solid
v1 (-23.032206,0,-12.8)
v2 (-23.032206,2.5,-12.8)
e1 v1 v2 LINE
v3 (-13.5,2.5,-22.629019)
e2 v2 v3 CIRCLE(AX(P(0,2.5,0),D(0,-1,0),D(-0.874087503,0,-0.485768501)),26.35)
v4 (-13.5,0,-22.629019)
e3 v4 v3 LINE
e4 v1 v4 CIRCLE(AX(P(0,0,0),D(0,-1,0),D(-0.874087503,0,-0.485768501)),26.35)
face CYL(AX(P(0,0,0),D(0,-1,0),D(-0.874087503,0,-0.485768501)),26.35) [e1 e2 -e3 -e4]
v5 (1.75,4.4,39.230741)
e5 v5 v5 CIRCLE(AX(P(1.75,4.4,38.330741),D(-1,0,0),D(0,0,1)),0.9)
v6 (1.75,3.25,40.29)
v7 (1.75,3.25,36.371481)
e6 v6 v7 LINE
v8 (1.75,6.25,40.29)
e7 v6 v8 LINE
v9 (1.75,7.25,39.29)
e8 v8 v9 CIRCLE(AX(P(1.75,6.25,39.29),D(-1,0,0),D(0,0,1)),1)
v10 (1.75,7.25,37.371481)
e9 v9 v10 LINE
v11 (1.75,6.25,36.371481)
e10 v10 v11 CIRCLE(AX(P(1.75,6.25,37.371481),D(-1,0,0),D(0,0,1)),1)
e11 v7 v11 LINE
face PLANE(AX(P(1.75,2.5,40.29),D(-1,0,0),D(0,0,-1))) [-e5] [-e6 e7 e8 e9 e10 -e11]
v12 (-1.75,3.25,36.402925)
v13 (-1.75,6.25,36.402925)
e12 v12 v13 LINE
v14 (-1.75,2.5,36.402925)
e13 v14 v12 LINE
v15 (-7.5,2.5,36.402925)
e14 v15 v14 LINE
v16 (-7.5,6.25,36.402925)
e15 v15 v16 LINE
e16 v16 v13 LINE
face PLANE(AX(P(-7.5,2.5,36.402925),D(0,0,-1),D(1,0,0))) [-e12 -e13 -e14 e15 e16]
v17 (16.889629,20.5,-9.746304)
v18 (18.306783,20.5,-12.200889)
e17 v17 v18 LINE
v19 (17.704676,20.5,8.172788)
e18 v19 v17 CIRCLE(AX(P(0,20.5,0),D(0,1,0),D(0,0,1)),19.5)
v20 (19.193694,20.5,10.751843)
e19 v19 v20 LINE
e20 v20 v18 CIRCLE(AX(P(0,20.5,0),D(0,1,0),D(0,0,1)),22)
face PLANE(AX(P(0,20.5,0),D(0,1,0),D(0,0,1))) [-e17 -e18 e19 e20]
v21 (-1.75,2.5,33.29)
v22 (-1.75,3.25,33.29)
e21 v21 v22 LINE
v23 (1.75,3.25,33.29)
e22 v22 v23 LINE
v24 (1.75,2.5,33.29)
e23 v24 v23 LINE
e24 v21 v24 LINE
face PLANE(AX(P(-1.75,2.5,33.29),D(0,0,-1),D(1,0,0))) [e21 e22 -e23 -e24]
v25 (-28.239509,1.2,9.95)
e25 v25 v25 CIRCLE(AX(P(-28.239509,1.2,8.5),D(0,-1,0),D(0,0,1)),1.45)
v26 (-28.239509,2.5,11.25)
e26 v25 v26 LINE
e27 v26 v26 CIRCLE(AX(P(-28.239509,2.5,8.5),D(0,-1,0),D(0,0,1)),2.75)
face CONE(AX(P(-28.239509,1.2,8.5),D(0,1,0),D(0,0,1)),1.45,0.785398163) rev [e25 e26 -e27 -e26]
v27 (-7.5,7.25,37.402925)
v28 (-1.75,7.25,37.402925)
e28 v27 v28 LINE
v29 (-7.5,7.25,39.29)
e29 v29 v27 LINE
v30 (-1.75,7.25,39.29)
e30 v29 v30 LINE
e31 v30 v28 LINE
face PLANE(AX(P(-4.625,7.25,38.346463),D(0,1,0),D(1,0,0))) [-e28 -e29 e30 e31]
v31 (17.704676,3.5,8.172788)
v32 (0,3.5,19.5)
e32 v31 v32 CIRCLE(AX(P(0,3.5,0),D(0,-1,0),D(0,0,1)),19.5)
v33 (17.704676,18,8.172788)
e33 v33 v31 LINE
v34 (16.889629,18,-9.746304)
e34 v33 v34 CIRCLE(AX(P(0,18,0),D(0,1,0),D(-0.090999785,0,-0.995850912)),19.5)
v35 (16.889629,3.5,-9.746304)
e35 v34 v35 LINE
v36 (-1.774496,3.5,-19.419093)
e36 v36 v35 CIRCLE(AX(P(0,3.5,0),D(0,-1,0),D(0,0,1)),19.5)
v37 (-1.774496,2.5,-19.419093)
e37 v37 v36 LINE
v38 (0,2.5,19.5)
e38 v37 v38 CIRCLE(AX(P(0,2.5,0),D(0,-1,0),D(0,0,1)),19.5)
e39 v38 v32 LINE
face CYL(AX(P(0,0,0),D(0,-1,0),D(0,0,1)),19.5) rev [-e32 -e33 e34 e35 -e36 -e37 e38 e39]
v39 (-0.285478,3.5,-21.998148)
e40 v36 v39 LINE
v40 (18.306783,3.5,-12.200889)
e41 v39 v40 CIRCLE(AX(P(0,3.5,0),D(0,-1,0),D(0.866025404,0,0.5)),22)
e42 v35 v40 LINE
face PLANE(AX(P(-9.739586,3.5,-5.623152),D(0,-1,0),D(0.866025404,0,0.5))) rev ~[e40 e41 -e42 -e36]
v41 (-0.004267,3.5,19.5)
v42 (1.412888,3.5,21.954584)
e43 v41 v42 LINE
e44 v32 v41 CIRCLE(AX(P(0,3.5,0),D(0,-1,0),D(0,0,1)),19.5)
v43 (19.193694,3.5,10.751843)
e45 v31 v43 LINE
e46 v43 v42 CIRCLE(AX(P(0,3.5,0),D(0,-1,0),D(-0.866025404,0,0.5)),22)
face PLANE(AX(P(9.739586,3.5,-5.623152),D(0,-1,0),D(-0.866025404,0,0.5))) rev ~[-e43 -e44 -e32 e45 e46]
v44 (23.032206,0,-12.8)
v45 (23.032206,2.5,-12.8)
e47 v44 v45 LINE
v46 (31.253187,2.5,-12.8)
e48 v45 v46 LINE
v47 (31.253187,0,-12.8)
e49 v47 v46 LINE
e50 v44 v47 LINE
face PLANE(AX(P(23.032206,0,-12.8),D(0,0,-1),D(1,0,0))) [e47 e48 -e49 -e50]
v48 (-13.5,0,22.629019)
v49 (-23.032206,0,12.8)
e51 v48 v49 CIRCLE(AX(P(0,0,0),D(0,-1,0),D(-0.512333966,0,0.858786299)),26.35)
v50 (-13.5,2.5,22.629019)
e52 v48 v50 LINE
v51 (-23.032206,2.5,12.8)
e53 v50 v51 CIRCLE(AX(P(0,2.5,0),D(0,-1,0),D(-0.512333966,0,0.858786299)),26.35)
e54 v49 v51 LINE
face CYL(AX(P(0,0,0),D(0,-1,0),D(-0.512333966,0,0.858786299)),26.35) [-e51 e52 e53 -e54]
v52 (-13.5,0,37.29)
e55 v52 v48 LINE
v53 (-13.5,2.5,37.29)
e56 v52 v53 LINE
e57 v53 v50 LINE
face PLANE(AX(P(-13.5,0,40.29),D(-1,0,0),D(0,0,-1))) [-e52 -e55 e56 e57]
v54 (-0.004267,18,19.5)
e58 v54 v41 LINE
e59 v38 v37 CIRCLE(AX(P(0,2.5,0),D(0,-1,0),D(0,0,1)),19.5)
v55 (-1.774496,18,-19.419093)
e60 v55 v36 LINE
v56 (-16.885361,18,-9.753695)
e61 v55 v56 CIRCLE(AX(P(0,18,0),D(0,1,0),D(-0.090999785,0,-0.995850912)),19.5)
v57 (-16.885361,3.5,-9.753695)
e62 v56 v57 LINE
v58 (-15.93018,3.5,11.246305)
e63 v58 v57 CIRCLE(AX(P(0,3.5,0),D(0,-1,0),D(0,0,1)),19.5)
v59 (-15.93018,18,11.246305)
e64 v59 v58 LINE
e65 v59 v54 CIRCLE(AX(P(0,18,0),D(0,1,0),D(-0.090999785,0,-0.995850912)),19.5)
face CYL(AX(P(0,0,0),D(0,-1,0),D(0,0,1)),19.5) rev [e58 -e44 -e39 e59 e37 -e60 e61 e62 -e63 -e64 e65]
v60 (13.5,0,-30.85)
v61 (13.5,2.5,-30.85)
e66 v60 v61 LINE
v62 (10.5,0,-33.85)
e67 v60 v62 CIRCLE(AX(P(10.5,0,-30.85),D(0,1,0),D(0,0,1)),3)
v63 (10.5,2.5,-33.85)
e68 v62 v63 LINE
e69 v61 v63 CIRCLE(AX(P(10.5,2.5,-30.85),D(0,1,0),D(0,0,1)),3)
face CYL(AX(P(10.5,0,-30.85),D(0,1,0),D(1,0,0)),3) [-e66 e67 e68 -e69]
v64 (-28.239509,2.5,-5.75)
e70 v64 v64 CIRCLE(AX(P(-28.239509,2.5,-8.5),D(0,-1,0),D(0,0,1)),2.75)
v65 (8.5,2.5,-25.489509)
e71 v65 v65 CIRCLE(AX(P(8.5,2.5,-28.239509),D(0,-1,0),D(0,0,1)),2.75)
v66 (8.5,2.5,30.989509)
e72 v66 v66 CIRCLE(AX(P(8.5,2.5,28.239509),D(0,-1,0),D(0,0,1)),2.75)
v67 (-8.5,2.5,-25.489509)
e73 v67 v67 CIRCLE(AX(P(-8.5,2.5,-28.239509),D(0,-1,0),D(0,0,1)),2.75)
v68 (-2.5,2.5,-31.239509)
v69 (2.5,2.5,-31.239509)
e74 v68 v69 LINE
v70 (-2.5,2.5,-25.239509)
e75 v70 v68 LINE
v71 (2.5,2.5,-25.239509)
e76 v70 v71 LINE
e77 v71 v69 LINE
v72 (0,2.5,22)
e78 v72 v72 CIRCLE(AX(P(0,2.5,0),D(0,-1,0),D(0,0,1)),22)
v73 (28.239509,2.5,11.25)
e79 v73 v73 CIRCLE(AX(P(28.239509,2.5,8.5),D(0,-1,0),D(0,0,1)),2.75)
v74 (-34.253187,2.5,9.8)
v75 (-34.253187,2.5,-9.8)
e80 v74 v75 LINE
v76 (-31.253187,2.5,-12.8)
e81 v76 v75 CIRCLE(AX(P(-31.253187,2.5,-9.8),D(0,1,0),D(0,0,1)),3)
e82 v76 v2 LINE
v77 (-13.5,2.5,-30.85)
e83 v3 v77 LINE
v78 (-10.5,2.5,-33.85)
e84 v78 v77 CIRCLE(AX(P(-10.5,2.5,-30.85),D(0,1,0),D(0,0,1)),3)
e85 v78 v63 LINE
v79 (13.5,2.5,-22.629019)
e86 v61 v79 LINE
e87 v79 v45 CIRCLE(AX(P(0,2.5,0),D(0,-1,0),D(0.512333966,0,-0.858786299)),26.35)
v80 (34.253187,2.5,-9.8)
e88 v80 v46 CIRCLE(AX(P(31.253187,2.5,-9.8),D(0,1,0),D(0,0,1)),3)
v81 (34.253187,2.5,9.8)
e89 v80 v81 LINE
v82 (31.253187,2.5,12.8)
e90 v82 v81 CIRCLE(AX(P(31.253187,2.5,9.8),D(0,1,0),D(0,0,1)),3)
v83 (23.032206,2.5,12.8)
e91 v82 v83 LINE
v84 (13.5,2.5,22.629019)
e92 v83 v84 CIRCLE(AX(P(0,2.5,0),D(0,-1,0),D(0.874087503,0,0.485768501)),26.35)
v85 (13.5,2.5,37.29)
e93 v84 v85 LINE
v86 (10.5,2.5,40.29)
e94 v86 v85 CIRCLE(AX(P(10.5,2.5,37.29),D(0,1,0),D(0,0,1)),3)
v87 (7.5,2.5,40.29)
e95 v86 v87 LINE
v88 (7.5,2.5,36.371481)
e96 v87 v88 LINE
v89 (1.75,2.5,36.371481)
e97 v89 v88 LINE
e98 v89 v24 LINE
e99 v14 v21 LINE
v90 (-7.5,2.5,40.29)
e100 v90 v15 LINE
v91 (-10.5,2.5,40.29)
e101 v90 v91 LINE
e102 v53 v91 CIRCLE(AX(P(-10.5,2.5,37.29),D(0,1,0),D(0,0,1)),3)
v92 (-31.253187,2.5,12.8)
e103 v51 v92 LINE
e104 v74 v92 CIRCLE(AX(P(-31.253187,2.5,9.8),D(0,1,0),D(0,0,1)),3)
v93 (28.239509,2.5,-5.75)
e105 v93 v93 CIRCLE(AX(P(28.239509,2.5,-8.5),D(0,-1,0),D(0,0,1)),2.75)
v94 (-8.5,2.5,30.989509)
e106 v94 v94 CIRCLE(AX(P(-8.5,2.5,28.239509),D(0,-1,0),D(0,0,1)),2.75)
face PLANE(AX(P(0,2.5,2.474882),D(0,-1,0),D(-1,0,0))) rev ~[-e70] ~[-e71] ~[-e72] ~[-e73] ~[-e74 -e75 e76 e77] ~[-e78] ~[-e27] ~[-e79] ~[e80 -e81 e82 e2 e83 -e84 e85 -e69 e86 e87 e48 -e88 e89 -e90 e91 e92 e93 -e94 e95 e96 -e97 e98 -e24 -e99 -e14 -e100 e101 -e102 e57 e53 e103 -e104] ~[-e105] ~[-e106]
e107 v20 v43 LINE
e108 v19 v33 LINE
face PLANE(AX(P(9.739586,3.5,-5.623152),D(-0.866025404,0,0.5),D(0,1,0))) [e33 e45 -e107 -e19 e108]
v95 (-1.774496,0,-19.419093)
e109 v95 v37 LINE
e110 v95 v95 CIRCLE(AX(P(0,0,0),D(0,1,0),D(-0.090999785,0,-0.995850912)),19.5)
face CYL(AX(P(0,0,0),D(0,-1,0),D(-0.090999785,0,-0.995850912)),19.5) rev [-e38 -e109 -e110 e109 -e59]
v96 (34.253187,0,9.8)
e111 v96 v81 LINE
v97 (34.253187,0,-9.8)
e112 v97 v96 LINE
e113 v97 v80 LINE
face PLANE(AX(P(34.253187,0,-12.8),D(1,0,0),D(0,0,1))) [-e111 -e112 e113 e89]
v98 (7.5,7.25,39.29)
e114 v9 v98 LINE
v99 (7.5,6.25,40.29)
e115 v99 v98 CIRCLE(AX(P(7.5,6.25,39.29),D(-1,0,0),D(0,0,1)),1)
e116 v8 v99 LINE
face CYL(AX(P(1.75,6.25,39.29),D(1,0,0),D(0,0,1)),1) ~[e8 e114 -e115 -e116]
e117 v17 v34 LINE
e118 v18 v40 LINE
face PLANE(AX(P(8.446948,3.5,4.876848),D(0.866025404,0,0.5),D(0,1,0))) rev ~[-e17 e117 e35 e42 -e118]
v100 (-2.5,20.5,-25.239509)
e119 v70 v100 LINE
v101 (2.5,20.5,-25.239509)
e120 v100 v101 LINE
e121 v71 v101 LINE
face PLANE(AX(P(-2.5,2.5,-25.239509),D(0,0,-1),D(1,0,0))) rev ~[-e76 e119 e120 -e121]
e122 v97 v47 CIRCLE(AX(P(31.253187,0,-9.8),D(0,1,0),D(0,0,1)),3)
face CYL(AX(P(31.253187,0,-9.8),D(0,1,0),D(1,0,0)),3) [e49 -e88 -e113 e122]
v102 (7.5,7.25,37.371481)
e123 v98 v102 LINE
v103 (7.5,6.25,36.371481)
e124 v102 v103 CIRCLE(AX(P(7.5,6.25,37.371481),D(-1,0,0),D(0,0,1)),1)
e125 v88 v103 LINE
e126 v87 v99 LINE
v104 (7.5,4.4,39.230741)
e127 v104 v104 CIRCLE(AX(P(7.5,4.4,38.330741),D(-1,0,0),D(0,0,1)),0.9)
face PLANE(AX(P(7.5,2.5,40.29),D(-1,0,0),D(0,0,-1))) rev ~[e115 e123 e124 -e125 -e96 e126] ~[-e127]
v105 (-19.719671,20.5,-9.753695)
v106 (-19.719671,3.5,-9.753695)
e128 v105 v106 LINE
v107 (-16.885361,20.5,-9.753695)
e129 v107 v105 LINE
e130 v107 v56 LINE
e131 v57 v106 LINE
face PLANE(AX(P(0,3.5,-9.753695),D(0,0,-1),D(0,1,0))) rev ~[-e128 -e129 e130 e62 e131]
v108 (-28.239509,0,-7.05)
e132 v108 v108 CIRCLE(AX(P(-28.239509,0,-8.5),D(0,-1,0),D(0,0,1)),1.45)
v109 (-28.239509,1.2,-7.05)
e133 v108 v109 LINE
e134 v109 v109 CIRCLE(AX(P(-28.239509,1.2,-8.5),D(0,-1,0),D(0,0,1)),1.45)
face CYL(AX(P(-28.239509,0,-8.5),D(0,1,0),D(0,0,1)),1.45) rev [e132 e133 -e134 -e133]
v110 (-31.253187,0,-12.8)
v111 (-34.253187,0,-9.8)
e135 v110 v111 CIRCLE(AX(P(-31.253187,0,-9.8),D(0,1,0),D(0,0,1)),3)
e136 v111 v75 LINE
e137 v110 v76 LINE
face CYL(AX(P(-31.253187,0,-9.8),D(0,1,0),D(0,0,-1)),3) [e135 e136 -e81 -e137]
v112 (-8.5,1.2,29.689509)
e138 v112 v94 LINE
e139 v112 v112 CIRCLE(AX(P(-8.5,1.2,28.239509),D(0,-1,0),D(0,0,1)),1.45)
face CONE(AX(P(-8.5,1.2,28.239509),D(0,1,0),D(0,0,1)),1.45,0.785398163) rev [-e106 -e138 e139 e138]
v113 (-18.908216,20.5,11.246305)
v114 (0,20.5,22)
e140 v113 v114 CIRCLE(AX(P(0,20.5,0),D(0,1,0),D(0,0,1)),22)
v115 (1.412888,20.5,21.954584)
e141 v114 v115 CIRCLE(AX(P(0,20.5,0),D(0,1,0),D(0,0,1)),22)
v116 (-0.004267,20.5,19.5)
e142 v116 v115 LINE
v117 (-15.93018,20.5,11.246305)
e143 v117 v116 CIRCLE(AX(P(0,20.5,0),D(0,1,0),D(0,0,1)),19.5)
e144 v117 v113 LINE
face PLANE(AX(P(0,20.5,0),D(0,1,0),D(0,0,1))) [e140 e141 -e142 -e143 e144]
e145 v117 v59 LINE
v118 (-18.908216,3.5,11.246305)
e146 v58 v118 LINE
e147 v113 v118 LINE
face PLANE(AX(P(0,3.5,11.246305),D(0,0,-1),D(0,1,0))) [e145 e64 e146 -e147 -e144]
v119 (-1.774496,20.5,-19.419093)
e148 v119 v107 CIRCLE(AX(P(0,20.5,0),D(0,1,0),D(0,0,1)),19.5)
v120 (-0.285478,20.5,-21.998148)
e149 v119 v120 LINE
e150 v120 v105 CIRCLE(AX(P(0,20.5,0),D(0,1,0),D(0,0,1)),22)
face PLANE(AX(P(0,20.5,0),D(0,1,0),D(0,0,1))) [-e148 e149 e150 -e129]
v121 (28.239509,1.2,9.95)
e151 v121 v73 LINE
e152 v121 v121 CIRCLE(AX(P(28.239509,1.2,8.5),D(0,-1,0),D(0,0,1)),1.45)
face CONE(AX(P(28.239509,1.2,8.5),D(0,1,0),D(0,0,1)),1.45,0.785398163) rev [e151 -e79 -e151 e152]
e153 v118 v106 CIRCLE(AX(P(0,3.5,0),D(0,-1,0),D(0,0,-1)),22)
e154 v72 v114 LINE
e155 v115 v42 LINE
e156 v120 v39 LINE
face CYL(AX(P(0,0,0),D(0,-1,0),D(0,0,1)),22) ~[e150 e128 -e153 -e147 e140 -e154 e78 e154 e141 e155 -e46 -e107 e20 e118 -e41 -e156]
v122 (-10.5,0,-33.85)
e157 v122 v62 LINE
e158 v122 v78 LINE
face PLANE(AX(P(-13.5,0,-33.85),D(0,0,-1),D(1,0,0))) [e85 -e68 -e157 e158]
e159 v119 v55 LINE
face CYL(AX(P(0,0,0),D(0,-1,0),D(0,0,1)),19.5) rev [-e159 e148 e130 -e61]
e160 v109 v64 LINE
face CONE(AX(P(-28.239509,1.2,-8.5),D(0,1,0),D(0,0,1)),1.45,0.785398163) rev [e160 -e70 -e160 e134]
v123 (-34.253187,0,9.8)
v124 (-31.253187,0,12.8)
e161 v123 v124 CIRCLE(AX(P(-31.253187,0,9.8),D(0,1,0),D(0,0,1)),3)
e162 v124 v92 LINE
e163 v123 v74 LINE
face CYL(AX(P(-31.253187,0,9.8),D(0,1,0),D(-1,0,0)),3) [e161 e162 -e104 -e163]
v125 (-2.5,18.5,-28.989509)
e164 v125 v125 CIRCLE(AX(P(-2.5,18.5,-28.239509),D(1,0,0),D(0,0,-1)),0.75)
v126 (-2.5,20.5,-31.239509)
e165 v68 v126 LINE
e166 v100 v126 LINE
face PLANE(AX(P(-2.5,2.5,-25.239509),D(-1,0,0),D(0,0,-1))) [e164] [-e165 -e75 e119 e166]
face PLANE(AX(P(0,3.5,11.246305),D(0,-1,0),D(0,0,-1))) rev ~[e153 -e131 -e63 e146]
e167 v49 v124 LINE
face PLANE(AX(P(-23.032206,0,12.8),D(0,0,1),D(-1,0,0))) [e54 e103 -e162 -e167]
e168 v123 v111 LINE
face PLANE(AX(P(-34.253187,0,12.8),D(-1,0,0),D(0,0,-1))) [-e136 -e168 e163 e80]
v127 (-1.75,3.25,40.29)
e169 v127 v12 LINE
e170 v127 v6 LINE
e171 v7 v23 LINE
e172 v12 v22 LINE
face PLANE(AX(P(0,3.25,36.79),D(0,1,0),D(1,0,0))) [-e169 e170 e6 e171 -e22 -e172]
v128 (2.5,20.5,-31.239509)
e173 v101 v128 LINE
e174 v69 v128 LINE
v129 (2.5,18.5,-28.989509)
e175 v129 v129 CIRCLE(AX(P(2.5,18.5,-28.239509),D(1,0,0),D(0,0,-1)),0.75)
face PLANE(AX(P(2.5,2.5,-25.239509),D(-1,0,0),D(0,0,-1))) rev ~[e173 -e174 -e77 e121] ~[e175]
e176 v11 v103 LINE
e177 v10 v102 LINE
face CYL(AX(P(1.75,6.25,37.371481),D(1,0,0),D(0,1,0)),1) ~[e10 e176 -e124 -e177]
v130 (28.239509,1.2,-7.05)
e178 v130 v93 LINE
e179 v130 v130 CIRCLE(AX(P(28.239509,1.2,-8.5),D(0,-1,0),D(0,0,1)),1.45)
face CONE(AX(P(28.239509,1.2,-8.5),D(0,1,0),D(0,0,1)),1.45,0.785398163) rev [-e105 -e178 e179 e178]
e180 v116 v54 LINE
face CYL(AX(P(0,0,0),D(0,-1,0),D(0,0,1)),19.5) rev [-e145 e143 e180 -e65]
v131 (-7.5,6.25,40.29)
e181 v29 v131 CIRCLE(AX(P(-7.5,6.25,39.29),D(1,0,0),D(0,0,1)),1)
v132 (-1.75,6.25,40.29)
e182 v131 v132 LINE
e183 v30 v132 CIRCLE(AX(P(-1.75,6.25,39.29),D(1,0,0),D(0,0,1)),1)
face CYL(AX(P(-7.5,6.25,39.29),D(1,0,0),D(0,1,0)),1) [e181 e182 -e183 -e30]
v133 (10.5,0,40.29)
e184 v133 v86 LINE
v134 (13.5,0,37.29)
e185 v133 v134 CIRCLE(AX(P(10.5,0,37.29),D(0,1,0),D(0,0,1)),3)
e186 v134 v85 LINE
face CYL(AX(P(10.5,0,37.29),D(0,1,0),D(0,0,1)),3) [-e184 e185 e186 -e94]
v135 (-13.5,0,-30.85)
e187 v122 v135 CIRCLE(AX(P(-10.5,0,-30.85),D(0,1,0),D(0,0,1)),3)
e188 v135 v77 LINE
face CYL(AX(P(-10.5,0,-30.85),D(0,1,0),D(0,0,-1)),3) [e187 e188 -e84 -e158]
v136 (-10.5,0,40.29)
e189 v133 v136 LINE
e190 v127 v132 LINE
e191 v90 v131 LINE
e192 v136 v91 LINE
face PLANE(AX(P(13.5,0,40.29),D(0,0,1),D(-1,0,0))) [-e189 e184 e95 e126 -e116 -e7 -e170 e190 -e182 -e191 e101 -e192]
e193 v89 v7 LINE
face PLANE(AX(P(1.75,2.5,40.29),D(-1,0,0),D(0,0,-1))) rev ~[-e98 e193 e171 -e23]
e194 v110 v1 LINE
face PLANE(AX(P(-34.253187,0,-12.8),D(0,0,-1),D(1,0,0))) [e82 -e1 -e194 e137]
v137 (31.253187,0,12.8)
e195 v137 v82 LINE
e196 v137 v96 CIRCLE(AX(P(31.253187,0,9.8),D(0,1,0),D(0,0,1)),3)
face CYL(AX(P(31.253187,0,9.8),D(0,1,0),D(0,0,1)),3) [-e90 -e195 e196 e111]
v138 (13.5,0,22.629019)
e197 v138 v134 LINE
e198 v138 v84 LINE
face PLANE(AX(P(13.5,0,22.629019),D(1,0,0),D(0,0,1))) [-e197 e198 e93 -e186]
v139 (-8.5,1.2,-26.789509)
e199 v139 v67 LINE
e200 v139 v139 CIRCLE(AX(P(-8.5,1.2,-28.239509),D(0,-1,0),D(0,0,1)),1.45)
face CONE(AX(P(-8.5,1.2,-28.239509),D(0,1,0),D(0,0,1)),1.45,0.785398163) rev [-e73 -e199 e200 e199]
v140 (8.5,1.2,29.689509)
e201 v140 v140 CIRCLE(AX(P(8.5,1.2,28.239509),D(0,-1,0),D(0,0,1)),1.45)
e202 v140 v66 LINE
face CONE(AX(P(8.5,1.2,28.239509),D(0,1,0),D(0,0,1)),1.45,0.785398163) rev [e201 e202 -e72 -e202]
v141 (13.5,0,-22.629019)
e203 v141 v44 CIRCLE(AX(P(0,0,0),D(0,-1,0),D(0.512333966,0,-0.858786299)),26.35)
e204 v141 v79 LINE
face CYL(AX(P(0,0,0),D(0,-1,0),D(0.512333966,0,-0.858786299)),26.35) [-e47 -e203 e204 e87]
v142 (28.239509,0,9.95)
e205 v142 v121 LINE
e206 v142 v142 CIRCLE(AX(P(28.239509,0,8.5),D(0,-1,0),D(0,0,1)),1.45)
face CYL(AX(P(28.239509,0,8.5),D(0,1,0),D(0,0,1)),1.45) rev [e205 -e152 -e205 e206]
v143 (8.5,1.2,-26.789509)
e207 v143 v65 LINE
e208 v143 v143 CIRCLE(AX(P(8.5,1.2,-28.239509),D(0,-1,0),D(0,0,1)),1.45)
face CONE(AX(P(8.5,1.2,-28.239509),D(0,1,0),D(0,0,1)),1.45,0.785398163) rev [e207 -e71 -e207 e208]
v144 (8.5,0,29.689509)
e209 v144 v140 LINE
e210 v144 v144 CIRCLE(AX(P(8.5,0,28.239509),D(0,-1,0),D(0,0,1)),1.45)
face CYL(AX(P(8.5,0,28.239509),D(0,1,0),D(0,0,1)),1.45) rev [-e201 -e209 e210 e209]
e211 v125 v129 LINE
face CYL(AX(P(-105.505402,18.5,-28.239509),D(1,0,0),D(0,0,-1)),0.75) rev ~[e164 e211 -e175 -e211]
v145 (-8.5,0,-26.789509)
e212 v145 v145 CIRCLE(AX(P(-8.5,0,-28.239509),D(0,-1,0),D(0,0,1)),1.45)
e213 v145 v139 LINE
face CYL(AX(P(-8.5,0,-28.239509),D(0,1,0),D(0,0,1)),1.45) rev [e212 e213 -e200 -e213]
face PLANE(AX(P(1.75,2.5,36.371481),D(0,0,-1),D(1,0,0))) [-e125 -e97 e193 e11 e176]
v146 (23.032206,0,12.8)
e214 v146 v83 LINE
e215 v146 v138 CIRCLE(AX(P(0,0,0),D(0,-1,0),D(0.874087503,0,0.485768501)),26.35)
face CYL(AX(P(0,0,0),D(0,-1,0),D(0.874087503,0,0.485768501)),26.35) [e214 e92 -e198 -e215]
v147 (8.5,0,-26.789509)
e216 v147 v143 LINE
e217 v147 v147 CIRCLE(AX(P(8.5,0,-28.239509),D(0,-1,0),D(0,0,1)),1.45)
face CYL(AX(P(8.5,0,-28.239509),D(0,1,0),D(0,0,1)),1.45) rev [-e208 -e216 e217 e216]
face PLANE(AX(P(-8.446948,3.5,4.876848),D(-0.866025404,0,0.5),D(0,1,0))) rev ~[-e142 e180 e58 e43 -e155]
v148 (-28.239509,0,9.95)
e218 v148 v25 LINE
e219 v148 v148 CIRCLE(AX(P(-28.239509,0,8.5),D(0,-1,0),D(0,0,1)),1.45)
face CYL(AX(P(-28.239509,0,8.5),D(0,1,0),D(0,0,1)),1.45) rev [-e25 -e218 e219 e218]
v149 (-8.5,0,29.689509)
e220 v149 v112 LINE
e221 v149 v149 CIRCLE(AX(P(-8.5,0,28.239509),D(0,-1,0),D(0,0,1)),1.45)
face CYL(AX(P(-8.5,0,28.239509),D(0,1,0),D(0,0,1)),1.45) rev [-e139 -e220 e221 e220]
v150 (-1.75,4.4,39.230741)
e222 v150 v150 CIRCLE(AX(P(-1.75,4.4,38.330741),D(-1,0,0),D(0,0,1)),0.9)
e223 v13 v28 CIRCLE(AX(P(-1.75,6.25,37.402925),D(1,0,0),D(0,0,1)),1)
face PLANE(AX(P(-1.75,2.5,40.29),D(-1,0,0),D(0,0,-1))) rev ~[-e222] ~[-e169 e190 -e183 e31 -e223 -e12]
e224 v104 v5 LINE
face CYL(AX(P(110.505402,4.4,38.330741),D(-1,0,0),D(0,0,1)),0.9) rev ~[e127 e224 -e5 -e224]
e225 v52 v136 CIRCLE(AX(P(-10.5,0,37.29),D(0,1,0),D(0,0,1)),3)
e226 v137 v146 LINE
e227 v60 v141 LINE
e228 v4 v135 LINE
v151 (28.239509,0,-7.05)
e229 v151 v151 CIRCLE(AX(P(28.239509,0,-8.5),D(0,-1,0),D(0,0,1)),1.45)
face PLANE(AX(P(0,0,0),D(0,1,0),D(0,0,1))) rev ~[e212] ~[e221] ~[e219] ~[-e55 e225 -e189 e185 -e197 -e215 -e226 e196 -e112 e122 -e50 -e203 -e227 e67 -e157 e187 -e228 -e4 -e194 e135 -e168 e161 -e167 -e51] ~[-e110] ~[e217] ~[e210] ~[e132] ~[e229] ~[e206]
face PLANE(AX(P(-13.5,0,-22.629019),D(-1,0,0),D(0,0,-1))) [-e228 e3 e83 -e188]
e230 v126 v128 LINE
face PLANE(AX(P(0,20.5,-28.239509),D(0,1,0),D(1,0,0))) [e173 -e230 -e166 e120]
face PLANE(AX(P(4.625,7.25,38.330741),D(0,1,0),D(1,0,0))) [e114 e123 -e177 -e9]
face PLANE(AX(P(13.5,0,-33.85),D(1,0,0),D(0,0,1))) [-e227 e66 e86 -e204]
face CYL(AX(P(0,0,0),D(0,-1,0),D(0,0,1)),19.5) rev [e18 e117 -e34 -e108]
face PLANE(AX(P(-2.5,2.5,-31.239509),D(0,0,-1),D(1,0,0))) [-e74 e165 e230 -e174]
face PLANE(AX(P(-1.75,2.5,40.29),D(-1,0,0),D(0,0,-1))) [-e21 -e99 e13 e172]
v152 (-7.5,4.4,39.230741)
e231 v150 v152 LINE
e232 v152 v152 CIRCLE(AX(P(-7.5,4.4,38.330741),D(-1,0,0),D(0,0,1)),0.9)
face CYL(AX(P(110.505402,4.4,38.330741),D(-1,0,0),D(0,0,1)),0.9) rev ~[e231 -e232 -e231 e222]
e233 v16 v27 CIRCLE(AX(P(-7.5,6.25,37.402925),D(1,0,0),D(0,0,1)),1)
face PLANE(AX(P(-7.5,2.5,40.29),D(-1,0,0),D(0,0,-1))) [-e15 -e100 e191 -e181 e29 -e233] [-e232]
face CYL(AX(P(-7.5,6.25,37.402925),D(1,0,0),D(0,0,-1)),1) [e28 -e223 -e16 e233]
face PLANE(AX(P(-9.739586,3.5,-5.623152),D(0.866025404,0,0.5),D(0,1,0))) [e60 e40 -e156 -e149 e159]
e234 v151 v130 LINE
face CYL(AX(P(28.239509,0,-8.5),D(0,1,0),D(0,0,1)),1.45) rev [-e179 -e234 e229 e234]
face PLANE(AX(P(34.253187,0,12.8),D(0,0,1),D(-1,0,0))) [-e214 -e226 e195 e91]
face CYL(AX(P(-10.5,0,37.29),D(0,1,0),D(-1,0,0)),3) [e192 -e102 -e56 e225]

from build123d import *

# Parameters (mm, degrees)
BOSS_EXTRUDE3_DEPTH                          = 2.5
SKETCH1_6_R                                  = 22
SKETCH1_6_R_2                                = 19.5
BOSS_EXTRUDE4_DEPTH                          = 20.5
CUT_EXTRUDE2_REACH                           = 58.717
CUT_EXTRUDE2_END_RADIUS                      = 22
SKETCH33_W                                   = 21
SKETCH33_H                                   = 17
CIRPATTERN1_COUNT                            = 3
SKETCH1_7_R                                  = 19.5
CUT_EXTRUDE1_DEPTH                           = 18
CSK_FOR_M2_5_COUNTERSUNK_FLAT_HEAD_S_2_COUNT = 2
CSK_FOR_M2_5_COUNTERSUNK_FLAT_HEAD_S_2_PITCH = 17
CSK_FOR_M2_5_COUNTERSUNK_FLAT_HEAD_S_3_COUNT = 2
CSK_FOR_M2_5_COUNTERSUNK_FLAT_HEAD_S_3_PITCH = 41.706591715
CSK_FOR_M2_5_COUNTERSUNK_FLAT_HEAD_S_4_COUNT = 2
CSK_FOR_M2_5_COUNTERSUNK_FLAT_HEAD_S_4_PITCH = 51.957512596
CSK_FOR_M2_5_COUNTERSUNK_FLAT_HEAD_S_5_COUNT = 2
CSK_FOR_M2_5_COUNTERSUNK_FLAT_HEAD_S_5_PITCH = 58.982027644
CSK_FOR_M2_5_COUNTERSUNK_FLAT_HEAD_S_6_COUNT = 2
CSK_FOR_M2_5_COUNTERSUNK_FLAT_HEAD_S_6_PITCH = 56.47901898
CSK_FOR_M2_5_COUNTERSUNK_FLAT_HEAD_S_7_COUNT = 2
CSK_FOR_M2_5_COUNTERSUNK_FLAT_HEAD_S_7_PITCH = 27.915882035
CSK_FOR_M2_5_COUNTERSUNK_FLAT_HEAD_S_8_COUNT = 2
CSK_FOR_M2_5_COUNTERSUNK_FLAT_HEAD_S_8_PITCH = 41.706591715
SKETCH15_W                                   = 5.75
SKETCH15_H                                   = 3.91851851
SKETCH15_H_2                                 = 3.887074911
BOSS_EXTRUDE5_DEPTH                          = 4.75
SKETCH16_W                                   = 3.5
SKETCH16_H                                   = 7
BOSS_EXTRUDE6_DEPTH                          = 0.75
FILLET1_R                                    = 3
FILLET2_R                                    = 3
FILLET3_R                                    = 3
FILLET4_R                                    = 3
FILLET5_R                                    = 3
FILLET6_R                                    = 3
FILLET7_R                                    = 3
FILLET8_R                                    = 3
FILLET9_R                                    = 1
FILLET10_R                                   = 1
FILLET11_R                                   = 1
FILLET12_R                                   = 1
F_1_8_1_8_DIAMETER_HOLE2_D                   = 1.8
SKETCH22_W                                   = 5
SKETCH22_H                                   = 6
BOSS_EXTRUDE7_DEPTH                          = 18
F_1_5_1_5_DIAMETER_HOLE1_D                   = 1.5


with BuildPart() as part:
    # Sketch1 → Boss-Extrude3 (new body)
    with BuildSketch(Plane(origin=(0, 0, 0), x_dir=(1, 0, 0), z_dir=(0, 1, 0))):
        with BuildLine():
            Line((-34.253186733, 12.8), (-23.032205713, 12.8))
            ThreePointArc((-23.032205713, 12.8), (-18.915679134, 18.344470091), (-13.5, 22.62901898))
            Line((-13.5, 22.62901898), (-13.5, 33.85))
            Line((-13.5, 33.85), (13.5, 33.85))
            Line((13.5, 33.85), (13.5, 22.62901898))
            ThreePointArc((13.5, 22.62901898), (18.915679134, 18.344470091), (23.032205713, 12.8))
            Line((23.032205713, 12.8), (34.253186733, 12.8))
            Line((34.253186733, 12.8), (34.253186733, -12.8))
            Line((34.253186733, -12.8), (23.032205713, -12.8))
            ThreePointArc((23.032205713, -12.8), (18.915679134, -18.344470091), (13.5, -22.62901898))
            Line((13.5, -22.62901898), (13.5, -40.29))
            Line((13.5, -40.29), (-13.5, -40.29))
            Line((-13.5, -40.29), (-13.5, -22.62901898))
            ThreePointArc((-13.5, -22.62901898), (-18.915679134, -18.344470091), (-23.032205713, -12.8))
            Line((-23.032205713, -12.8), (-34.253186733, -12.8))
            Line((-34.253186733, -12.8), (-34.253186733, 12.8))
        make_face()
    extrude(amount=BOSS_EXTRUDE3_DEPTH)

    # Sketch1<6> → Boss-Extrude4 (add)
    with BuildSketch(Plane(origin=(0, 0, 0), x_dir=(1, 0, 0), z_dir=(0, 1, 0))):
        with Locations(Location((0, 0, 0), (0, 0, 270))):
            Circle(SKETCH1_6_R)
        with Locations(Location((0, 0, 0), (0, 0, 270))):
            Circle(SKETCH1_6_R_2, mode=Mode.SUBTRACT)
    extrude(amount=BOSS_EXTRUDE4_DEPTH)

    # Cut-Extrude2: up to this cylinder (the profile starts inside it)
    cut_extrude2_end = Plane(origin=(0, 12, 0), z_dir=(0, -1, 0)) * Cylinder(CUT_EXTRUDE2_END_RADIUS, 162.434, mode=Mode.PRIVATE)
    # Sketch33 → Cut-Extrude2 (cut, up to the surface)
    with BuildSketch(Plane(origin=(0, 0, 0), x_dir=(0, 0, -1), z_dir=(1, 0, 0)), mode=Mode.PRIVATE) as cut_extrude2_sk1:
        with Locations((-0.746304841, 12)):
            Rectangle(SKETCH33_W, SKETCH33_H)
    cut_extrude2_tool1 = extrude(cut_extrude2_sk1.sketch, amount=-CUT_EXTRUDE2_REACH, mode=Mode.PRIVATE) & cut_extrude2_end
    cut_extrude2 = cut_extrude2_tool1.solids().sort_by_distance((0, 12, 0.746305))[0]
    add(cut_extrude2, mode=Mode.SUBTRACT)

    # CirPattern1: Cut-Extrude2 ×3 about axis
    cirpattern1_axis = Axis((0, 0, 0), (0, 1, 0))
    for i in range(1, CIRPATTERN1_COUNT):
        add(cut_extrude2.rotate(cirpattern1_axis, i * 360 / CIRPATTERN1_COUNT), mode=Mode.SUBTRACT)

    # Sketch1<7> → Cut-Extrude1 (cut)
    with BuildSketch(Plane(origin=(0, 0, 0), x_dir=(1, 0, 0), z_dir=(0, 1, 0))):
        with Locations(Location((0, 0, 0), (0, 0, 95.221126585))):
            Circle(SKETCH1_7_R)
    extrude(amount=CUT_EXTRUDE1_DEPTH, mode=Mode.SUBTRACT)

    # Sketch14 → CSK for M2.5 Countersunk Flat Head Screw1 (revolve, cut)
    with BuildSketch(Plane(origin=(-8.5, 2.5, -28.23950949), x_dir=(0, 0, 1), z_dir=(1, 0, 0))):
        Polygon((0, 0), (0, 2.5), (1.45, 2.5), (1.45, 1.3), (2.75, 0), align=None)
    csk_for_m2_5_countersunk_flat_head_screw = revolve(axis=Axis((-8.5, 8.85, -28.23950949), (0, -1, 0)), mode=Mode.SUBTRACT)

    # CSK for M2.5 Countersunk Flat Head S 2: CSK for M2.5 Countersunk Flat Head Screw1 ×2
    with Locations(*[(i * CSK_FOR_M2_5_COUNTERSUNK_FLAT_HEAD_S_2_PITCH, 0, 0) for i in range(1, CSK_FOR_M2_5_COUNTERSUNK_FLAT_HEAD_S_2_COUNT)]):
        add(csk_for_m2_5_countersunk_flat_head_screw, mode=Mode.SUBTRACT)

    # CSK for M2.5 Countersunk Flat Head S 3: CSK for M2.5 Countersunk Flat Head Screw1 ×2
    with Locations(*[Vector(0.8809041443894198, 0, 0.4732947162155356) * (i * CSK_FOR_M2_5_COUNTERSUNK_FLAT_HEAD_S_3_PITCH) for i in range(1, CSK_FOR_M2_5_COUNTERSUNK_FLAT_HEAD_S_3_COUNT)]):
        add(csk_for_m2_5_countersunk_flat_head_screw, mode=Mode.SUBTRACT)

    # CSK for M2.5 Countersunk Flat Head S 4: CSK for M2.5 Countersunk Flat Head Screw1 ×2
    with Locations(*[Vector(0.7071067811865471, 0, 0.7071067811865479) * (i * CSK_FOR_M2_5_COUNTERSUNK_FLAT_HEAD_S_4_PITCH) for i in range(1, CSK_FOR_M2_5_COUNTERSUNK_FLAT_HEAD_S_4_COUNT)]):
        add(csk_for_m2_5_countersunk_flat_head_screw, mode=Mode.SUBTRACT)

    # CSK for M2.5 Countersunk Flat Head S 5: CSK for M2.5 Countersunk Flat Head Screw1 ×2
    with Locations(*[Vector(0.28822339073732456, 0, 0.9575631974088601) * (i * CSK_FOR_M2_5_COUNTERSUNK_FLAT_HEAD_S_5_PITCH) for i in range(1, CSK_FOR_M2_5_COUNTERSUNK_FLAT_HEAD_S_5_COUNT)]):
        add(csk_for_m2_5_countersunk_flat_head_screw, mode=Mode.SUBTRACT)

    # CSK for M2.5 Countersunk Flat Head S 6: CSK for M2.5 Countersunk Flat Head Screw1 ×2
    with Locations(*[(0, 0, i * CSK_FOR_M2_5_COUNTERSUNK_FLAT_HEAD_S_6_PITCH) for i in range(1, CSK_FOR_M2_5_COUNTERSUNK_FLAT_HEAD_S_6_COUNT)]):
        add(csk_for_m2_5_countersunk_flat_head_screw, mode=Mode.SUBTRACT)

    # CSK for M2.5 Countersunk Flat Head S 7: CSK for M2.5 Countersunk Flat Head Screw1 ×2
    with Locations(*[Vector(-0.7071067811865482, 0, 0.7071067811865469) * (i * CSK_FOR_M2_5_COUNTERSUNK_FLAT_HEAD_S_7_PITCH) for i in range(1, CSK_FOR_M2_5_COUNTERSUNK_FLAT_HEAD_S_7_COUNT)]):
        add(csk_for_m2_5_countersunk_flat_head_screw, mode=Mode.SUBTRACT)

    # CSK for M2.5 Countersunk Flat Head S 8: CSK for M2.5 Countersunk Flat Head Screw1 ×2
    with Locations(*[Vector(-0.4732947162155356, 0, 0.8809041443894198) * (i * CSK_FOR_M2_5_COUNTERSUNK_FLAT_HEAD_S_8_PITCH) for i in range(1, CSK_FOR_M2_5_COUNTERSUNK_FLAT_HEAD_S_8_COUNT)]):
        add(csk_for_m2_5_countersunk_flat_head_screw, mode=Mode.SUBTRACT)

    # Sketch15 → Boss-Extrude5 (add)
    with BuildSketch(Plane(origin=(0, 2.5, 0), x_dir=(1, 0, 0), z_dir=(0, 1, 0))):
        with Locations((4.625, -38.330740745)):
            Rectangle(SKETCH15_W, SKETCH15_H)
        with Locations((-4.625, -38.346462544)):
            Rectangle(SKETCH15_W, SKETCH15_H_2)
    extrude(amount=BOSS_EXTRUDE5_DEPTH)

    # Sketch16 → Boss-Extrude6 (add)
    with BuildSketch(Plane(origin=(0, 2.5, 0), x_dir=(1, 0, 0), z_dir=(0, 1, 0))):
        with Locations((0, -36.79)):
            Rectangle(SKETCH16_W, SKETCH16_H)
    extrude(amount=BOSS_EXTRUDE6_DEPTH)

    # Fillet1
    fillet1_edges = [part.edges().sort_by_distance(p)[0] for p in [
        (34.253186733, 1.25, 12.8),
    ]]
    fillet(fillet1_edges, radius=FILLET1_R)

    # Fillet2
    fillet2_edges = [part.edges().sort_by_distance(p)[0] for p in [
        (34.253186733, 1.25, -12.8),
    ]]
    fillet(fillet2_edges, radius=FILLET2_R)

    # Fillet3
    fillet3_edges = [part.edges().sort_by_distance(p)[0] for p in [
        (13.5, 1.25, -33.85),
    ]]
    fillet(fillet3_edges, radius=FILLET3_R)

    # Fillet4
    fillet4_edges = [part.edges().sort_by_distance(p)[0] for p in [
        (-13.5, 1.25, -33.85),
    ]]
    fillet(fillet4_edges, radius=FILLET4_R)

    # Fillet5
    fillet5_edges = [part.edges().sort_by_distance(p)[0] for p in [
        (-34.253186733, 1.25, -12.8),
    ]]
    fillet(fillet5_edges, radius=FILLET5_R)

    # Fillet6
    fillet6_edges = [part.edges().sort_by_distance(p)[0] for p in [
        (-34.253186733, 1.25, 12.8),
    ]]
    fillet(fillet6_edges, radius=FILLET6_R)

    # Fillet7
    fillet7_edges = [part.edges().sort_by_distance(p)[0] for p in [
        (-13.5, 1.25, 40.29),
    ]]
    fillet(fillet7_edges, radius=FILLET7_R)

    # Fillet8
    fillet8_edges = [part.edges().sort_by_distance(p)[0] for p in [
        (13.5, 1.25, 40.29),
    ]]
    fillet(fillet8_edges, radius=FILLET8_R)

    # Fillet9
    fillet9_edges = [part.edges().sort_by_distance(p)[0] for p in [
        (-4.625, 7.25, 36.402925089),
    ]]
    fillet(fillet9_edges, radius=FILLET9_R)

    # Fillet10
    fillet10_edges = [part.edges().sort_by_distance(p)[0] for p in [
        (-4.625, 7.25, 40.29),
    ]]
    fillet(fillet10_edges, radius=FILLET10_R)

    # Fillet11
    fillet11_edges = [part.edges().sort_by_distance(p)[0] for p in [
        (4.625, 7.25, 40.29),
    ]]
    fillet(fillet11_edges, radius=FILLET11_R)

    # Fillet12
    fillet12_edges = [part.edges().sort_by_distance(p)[0] for p in [
        (4.625, 7.25, 36.37148149),
    ]]
    fillet(fillet12_edges, radius=FILLET12_R)

    # Ø1.8 (1.8) Diameter Hole2 (through all)
    with Locations(Plane(origin=(7.5, 0, 0), x_dir=(0, 0, -1), z_dir=(1, 0, 0))):
        with Locations((-38.330740745, 4.4)):
            Hole(F_1_8_1_8_DIAMETER_HOLE2_D / 2)

    # Sketch22 → Boss-Extrude7 (add)
    with BuildSketch(Plane(origin=(0, 2.5, 0), x_dir=(1, 0, 0), z_dir=(0, 1, 0))):
        with Locations((0, 28.23950949)):
            Rectangle(SKETCH22_W, SKETCH22_H)
    extrude(amount=BOSS_EXTRUDE7_DEPTH)

    # Ø1.5 (1.5) Diameter Hole1 (through all)
    with Locations(Plane.ZY.offset(2.5)):
        with Locations((-28.23950949, 18.5)):
            Hole(F_1_5_1_5_DIAMETER_HOLE1_D / 2)


solid = part.part
